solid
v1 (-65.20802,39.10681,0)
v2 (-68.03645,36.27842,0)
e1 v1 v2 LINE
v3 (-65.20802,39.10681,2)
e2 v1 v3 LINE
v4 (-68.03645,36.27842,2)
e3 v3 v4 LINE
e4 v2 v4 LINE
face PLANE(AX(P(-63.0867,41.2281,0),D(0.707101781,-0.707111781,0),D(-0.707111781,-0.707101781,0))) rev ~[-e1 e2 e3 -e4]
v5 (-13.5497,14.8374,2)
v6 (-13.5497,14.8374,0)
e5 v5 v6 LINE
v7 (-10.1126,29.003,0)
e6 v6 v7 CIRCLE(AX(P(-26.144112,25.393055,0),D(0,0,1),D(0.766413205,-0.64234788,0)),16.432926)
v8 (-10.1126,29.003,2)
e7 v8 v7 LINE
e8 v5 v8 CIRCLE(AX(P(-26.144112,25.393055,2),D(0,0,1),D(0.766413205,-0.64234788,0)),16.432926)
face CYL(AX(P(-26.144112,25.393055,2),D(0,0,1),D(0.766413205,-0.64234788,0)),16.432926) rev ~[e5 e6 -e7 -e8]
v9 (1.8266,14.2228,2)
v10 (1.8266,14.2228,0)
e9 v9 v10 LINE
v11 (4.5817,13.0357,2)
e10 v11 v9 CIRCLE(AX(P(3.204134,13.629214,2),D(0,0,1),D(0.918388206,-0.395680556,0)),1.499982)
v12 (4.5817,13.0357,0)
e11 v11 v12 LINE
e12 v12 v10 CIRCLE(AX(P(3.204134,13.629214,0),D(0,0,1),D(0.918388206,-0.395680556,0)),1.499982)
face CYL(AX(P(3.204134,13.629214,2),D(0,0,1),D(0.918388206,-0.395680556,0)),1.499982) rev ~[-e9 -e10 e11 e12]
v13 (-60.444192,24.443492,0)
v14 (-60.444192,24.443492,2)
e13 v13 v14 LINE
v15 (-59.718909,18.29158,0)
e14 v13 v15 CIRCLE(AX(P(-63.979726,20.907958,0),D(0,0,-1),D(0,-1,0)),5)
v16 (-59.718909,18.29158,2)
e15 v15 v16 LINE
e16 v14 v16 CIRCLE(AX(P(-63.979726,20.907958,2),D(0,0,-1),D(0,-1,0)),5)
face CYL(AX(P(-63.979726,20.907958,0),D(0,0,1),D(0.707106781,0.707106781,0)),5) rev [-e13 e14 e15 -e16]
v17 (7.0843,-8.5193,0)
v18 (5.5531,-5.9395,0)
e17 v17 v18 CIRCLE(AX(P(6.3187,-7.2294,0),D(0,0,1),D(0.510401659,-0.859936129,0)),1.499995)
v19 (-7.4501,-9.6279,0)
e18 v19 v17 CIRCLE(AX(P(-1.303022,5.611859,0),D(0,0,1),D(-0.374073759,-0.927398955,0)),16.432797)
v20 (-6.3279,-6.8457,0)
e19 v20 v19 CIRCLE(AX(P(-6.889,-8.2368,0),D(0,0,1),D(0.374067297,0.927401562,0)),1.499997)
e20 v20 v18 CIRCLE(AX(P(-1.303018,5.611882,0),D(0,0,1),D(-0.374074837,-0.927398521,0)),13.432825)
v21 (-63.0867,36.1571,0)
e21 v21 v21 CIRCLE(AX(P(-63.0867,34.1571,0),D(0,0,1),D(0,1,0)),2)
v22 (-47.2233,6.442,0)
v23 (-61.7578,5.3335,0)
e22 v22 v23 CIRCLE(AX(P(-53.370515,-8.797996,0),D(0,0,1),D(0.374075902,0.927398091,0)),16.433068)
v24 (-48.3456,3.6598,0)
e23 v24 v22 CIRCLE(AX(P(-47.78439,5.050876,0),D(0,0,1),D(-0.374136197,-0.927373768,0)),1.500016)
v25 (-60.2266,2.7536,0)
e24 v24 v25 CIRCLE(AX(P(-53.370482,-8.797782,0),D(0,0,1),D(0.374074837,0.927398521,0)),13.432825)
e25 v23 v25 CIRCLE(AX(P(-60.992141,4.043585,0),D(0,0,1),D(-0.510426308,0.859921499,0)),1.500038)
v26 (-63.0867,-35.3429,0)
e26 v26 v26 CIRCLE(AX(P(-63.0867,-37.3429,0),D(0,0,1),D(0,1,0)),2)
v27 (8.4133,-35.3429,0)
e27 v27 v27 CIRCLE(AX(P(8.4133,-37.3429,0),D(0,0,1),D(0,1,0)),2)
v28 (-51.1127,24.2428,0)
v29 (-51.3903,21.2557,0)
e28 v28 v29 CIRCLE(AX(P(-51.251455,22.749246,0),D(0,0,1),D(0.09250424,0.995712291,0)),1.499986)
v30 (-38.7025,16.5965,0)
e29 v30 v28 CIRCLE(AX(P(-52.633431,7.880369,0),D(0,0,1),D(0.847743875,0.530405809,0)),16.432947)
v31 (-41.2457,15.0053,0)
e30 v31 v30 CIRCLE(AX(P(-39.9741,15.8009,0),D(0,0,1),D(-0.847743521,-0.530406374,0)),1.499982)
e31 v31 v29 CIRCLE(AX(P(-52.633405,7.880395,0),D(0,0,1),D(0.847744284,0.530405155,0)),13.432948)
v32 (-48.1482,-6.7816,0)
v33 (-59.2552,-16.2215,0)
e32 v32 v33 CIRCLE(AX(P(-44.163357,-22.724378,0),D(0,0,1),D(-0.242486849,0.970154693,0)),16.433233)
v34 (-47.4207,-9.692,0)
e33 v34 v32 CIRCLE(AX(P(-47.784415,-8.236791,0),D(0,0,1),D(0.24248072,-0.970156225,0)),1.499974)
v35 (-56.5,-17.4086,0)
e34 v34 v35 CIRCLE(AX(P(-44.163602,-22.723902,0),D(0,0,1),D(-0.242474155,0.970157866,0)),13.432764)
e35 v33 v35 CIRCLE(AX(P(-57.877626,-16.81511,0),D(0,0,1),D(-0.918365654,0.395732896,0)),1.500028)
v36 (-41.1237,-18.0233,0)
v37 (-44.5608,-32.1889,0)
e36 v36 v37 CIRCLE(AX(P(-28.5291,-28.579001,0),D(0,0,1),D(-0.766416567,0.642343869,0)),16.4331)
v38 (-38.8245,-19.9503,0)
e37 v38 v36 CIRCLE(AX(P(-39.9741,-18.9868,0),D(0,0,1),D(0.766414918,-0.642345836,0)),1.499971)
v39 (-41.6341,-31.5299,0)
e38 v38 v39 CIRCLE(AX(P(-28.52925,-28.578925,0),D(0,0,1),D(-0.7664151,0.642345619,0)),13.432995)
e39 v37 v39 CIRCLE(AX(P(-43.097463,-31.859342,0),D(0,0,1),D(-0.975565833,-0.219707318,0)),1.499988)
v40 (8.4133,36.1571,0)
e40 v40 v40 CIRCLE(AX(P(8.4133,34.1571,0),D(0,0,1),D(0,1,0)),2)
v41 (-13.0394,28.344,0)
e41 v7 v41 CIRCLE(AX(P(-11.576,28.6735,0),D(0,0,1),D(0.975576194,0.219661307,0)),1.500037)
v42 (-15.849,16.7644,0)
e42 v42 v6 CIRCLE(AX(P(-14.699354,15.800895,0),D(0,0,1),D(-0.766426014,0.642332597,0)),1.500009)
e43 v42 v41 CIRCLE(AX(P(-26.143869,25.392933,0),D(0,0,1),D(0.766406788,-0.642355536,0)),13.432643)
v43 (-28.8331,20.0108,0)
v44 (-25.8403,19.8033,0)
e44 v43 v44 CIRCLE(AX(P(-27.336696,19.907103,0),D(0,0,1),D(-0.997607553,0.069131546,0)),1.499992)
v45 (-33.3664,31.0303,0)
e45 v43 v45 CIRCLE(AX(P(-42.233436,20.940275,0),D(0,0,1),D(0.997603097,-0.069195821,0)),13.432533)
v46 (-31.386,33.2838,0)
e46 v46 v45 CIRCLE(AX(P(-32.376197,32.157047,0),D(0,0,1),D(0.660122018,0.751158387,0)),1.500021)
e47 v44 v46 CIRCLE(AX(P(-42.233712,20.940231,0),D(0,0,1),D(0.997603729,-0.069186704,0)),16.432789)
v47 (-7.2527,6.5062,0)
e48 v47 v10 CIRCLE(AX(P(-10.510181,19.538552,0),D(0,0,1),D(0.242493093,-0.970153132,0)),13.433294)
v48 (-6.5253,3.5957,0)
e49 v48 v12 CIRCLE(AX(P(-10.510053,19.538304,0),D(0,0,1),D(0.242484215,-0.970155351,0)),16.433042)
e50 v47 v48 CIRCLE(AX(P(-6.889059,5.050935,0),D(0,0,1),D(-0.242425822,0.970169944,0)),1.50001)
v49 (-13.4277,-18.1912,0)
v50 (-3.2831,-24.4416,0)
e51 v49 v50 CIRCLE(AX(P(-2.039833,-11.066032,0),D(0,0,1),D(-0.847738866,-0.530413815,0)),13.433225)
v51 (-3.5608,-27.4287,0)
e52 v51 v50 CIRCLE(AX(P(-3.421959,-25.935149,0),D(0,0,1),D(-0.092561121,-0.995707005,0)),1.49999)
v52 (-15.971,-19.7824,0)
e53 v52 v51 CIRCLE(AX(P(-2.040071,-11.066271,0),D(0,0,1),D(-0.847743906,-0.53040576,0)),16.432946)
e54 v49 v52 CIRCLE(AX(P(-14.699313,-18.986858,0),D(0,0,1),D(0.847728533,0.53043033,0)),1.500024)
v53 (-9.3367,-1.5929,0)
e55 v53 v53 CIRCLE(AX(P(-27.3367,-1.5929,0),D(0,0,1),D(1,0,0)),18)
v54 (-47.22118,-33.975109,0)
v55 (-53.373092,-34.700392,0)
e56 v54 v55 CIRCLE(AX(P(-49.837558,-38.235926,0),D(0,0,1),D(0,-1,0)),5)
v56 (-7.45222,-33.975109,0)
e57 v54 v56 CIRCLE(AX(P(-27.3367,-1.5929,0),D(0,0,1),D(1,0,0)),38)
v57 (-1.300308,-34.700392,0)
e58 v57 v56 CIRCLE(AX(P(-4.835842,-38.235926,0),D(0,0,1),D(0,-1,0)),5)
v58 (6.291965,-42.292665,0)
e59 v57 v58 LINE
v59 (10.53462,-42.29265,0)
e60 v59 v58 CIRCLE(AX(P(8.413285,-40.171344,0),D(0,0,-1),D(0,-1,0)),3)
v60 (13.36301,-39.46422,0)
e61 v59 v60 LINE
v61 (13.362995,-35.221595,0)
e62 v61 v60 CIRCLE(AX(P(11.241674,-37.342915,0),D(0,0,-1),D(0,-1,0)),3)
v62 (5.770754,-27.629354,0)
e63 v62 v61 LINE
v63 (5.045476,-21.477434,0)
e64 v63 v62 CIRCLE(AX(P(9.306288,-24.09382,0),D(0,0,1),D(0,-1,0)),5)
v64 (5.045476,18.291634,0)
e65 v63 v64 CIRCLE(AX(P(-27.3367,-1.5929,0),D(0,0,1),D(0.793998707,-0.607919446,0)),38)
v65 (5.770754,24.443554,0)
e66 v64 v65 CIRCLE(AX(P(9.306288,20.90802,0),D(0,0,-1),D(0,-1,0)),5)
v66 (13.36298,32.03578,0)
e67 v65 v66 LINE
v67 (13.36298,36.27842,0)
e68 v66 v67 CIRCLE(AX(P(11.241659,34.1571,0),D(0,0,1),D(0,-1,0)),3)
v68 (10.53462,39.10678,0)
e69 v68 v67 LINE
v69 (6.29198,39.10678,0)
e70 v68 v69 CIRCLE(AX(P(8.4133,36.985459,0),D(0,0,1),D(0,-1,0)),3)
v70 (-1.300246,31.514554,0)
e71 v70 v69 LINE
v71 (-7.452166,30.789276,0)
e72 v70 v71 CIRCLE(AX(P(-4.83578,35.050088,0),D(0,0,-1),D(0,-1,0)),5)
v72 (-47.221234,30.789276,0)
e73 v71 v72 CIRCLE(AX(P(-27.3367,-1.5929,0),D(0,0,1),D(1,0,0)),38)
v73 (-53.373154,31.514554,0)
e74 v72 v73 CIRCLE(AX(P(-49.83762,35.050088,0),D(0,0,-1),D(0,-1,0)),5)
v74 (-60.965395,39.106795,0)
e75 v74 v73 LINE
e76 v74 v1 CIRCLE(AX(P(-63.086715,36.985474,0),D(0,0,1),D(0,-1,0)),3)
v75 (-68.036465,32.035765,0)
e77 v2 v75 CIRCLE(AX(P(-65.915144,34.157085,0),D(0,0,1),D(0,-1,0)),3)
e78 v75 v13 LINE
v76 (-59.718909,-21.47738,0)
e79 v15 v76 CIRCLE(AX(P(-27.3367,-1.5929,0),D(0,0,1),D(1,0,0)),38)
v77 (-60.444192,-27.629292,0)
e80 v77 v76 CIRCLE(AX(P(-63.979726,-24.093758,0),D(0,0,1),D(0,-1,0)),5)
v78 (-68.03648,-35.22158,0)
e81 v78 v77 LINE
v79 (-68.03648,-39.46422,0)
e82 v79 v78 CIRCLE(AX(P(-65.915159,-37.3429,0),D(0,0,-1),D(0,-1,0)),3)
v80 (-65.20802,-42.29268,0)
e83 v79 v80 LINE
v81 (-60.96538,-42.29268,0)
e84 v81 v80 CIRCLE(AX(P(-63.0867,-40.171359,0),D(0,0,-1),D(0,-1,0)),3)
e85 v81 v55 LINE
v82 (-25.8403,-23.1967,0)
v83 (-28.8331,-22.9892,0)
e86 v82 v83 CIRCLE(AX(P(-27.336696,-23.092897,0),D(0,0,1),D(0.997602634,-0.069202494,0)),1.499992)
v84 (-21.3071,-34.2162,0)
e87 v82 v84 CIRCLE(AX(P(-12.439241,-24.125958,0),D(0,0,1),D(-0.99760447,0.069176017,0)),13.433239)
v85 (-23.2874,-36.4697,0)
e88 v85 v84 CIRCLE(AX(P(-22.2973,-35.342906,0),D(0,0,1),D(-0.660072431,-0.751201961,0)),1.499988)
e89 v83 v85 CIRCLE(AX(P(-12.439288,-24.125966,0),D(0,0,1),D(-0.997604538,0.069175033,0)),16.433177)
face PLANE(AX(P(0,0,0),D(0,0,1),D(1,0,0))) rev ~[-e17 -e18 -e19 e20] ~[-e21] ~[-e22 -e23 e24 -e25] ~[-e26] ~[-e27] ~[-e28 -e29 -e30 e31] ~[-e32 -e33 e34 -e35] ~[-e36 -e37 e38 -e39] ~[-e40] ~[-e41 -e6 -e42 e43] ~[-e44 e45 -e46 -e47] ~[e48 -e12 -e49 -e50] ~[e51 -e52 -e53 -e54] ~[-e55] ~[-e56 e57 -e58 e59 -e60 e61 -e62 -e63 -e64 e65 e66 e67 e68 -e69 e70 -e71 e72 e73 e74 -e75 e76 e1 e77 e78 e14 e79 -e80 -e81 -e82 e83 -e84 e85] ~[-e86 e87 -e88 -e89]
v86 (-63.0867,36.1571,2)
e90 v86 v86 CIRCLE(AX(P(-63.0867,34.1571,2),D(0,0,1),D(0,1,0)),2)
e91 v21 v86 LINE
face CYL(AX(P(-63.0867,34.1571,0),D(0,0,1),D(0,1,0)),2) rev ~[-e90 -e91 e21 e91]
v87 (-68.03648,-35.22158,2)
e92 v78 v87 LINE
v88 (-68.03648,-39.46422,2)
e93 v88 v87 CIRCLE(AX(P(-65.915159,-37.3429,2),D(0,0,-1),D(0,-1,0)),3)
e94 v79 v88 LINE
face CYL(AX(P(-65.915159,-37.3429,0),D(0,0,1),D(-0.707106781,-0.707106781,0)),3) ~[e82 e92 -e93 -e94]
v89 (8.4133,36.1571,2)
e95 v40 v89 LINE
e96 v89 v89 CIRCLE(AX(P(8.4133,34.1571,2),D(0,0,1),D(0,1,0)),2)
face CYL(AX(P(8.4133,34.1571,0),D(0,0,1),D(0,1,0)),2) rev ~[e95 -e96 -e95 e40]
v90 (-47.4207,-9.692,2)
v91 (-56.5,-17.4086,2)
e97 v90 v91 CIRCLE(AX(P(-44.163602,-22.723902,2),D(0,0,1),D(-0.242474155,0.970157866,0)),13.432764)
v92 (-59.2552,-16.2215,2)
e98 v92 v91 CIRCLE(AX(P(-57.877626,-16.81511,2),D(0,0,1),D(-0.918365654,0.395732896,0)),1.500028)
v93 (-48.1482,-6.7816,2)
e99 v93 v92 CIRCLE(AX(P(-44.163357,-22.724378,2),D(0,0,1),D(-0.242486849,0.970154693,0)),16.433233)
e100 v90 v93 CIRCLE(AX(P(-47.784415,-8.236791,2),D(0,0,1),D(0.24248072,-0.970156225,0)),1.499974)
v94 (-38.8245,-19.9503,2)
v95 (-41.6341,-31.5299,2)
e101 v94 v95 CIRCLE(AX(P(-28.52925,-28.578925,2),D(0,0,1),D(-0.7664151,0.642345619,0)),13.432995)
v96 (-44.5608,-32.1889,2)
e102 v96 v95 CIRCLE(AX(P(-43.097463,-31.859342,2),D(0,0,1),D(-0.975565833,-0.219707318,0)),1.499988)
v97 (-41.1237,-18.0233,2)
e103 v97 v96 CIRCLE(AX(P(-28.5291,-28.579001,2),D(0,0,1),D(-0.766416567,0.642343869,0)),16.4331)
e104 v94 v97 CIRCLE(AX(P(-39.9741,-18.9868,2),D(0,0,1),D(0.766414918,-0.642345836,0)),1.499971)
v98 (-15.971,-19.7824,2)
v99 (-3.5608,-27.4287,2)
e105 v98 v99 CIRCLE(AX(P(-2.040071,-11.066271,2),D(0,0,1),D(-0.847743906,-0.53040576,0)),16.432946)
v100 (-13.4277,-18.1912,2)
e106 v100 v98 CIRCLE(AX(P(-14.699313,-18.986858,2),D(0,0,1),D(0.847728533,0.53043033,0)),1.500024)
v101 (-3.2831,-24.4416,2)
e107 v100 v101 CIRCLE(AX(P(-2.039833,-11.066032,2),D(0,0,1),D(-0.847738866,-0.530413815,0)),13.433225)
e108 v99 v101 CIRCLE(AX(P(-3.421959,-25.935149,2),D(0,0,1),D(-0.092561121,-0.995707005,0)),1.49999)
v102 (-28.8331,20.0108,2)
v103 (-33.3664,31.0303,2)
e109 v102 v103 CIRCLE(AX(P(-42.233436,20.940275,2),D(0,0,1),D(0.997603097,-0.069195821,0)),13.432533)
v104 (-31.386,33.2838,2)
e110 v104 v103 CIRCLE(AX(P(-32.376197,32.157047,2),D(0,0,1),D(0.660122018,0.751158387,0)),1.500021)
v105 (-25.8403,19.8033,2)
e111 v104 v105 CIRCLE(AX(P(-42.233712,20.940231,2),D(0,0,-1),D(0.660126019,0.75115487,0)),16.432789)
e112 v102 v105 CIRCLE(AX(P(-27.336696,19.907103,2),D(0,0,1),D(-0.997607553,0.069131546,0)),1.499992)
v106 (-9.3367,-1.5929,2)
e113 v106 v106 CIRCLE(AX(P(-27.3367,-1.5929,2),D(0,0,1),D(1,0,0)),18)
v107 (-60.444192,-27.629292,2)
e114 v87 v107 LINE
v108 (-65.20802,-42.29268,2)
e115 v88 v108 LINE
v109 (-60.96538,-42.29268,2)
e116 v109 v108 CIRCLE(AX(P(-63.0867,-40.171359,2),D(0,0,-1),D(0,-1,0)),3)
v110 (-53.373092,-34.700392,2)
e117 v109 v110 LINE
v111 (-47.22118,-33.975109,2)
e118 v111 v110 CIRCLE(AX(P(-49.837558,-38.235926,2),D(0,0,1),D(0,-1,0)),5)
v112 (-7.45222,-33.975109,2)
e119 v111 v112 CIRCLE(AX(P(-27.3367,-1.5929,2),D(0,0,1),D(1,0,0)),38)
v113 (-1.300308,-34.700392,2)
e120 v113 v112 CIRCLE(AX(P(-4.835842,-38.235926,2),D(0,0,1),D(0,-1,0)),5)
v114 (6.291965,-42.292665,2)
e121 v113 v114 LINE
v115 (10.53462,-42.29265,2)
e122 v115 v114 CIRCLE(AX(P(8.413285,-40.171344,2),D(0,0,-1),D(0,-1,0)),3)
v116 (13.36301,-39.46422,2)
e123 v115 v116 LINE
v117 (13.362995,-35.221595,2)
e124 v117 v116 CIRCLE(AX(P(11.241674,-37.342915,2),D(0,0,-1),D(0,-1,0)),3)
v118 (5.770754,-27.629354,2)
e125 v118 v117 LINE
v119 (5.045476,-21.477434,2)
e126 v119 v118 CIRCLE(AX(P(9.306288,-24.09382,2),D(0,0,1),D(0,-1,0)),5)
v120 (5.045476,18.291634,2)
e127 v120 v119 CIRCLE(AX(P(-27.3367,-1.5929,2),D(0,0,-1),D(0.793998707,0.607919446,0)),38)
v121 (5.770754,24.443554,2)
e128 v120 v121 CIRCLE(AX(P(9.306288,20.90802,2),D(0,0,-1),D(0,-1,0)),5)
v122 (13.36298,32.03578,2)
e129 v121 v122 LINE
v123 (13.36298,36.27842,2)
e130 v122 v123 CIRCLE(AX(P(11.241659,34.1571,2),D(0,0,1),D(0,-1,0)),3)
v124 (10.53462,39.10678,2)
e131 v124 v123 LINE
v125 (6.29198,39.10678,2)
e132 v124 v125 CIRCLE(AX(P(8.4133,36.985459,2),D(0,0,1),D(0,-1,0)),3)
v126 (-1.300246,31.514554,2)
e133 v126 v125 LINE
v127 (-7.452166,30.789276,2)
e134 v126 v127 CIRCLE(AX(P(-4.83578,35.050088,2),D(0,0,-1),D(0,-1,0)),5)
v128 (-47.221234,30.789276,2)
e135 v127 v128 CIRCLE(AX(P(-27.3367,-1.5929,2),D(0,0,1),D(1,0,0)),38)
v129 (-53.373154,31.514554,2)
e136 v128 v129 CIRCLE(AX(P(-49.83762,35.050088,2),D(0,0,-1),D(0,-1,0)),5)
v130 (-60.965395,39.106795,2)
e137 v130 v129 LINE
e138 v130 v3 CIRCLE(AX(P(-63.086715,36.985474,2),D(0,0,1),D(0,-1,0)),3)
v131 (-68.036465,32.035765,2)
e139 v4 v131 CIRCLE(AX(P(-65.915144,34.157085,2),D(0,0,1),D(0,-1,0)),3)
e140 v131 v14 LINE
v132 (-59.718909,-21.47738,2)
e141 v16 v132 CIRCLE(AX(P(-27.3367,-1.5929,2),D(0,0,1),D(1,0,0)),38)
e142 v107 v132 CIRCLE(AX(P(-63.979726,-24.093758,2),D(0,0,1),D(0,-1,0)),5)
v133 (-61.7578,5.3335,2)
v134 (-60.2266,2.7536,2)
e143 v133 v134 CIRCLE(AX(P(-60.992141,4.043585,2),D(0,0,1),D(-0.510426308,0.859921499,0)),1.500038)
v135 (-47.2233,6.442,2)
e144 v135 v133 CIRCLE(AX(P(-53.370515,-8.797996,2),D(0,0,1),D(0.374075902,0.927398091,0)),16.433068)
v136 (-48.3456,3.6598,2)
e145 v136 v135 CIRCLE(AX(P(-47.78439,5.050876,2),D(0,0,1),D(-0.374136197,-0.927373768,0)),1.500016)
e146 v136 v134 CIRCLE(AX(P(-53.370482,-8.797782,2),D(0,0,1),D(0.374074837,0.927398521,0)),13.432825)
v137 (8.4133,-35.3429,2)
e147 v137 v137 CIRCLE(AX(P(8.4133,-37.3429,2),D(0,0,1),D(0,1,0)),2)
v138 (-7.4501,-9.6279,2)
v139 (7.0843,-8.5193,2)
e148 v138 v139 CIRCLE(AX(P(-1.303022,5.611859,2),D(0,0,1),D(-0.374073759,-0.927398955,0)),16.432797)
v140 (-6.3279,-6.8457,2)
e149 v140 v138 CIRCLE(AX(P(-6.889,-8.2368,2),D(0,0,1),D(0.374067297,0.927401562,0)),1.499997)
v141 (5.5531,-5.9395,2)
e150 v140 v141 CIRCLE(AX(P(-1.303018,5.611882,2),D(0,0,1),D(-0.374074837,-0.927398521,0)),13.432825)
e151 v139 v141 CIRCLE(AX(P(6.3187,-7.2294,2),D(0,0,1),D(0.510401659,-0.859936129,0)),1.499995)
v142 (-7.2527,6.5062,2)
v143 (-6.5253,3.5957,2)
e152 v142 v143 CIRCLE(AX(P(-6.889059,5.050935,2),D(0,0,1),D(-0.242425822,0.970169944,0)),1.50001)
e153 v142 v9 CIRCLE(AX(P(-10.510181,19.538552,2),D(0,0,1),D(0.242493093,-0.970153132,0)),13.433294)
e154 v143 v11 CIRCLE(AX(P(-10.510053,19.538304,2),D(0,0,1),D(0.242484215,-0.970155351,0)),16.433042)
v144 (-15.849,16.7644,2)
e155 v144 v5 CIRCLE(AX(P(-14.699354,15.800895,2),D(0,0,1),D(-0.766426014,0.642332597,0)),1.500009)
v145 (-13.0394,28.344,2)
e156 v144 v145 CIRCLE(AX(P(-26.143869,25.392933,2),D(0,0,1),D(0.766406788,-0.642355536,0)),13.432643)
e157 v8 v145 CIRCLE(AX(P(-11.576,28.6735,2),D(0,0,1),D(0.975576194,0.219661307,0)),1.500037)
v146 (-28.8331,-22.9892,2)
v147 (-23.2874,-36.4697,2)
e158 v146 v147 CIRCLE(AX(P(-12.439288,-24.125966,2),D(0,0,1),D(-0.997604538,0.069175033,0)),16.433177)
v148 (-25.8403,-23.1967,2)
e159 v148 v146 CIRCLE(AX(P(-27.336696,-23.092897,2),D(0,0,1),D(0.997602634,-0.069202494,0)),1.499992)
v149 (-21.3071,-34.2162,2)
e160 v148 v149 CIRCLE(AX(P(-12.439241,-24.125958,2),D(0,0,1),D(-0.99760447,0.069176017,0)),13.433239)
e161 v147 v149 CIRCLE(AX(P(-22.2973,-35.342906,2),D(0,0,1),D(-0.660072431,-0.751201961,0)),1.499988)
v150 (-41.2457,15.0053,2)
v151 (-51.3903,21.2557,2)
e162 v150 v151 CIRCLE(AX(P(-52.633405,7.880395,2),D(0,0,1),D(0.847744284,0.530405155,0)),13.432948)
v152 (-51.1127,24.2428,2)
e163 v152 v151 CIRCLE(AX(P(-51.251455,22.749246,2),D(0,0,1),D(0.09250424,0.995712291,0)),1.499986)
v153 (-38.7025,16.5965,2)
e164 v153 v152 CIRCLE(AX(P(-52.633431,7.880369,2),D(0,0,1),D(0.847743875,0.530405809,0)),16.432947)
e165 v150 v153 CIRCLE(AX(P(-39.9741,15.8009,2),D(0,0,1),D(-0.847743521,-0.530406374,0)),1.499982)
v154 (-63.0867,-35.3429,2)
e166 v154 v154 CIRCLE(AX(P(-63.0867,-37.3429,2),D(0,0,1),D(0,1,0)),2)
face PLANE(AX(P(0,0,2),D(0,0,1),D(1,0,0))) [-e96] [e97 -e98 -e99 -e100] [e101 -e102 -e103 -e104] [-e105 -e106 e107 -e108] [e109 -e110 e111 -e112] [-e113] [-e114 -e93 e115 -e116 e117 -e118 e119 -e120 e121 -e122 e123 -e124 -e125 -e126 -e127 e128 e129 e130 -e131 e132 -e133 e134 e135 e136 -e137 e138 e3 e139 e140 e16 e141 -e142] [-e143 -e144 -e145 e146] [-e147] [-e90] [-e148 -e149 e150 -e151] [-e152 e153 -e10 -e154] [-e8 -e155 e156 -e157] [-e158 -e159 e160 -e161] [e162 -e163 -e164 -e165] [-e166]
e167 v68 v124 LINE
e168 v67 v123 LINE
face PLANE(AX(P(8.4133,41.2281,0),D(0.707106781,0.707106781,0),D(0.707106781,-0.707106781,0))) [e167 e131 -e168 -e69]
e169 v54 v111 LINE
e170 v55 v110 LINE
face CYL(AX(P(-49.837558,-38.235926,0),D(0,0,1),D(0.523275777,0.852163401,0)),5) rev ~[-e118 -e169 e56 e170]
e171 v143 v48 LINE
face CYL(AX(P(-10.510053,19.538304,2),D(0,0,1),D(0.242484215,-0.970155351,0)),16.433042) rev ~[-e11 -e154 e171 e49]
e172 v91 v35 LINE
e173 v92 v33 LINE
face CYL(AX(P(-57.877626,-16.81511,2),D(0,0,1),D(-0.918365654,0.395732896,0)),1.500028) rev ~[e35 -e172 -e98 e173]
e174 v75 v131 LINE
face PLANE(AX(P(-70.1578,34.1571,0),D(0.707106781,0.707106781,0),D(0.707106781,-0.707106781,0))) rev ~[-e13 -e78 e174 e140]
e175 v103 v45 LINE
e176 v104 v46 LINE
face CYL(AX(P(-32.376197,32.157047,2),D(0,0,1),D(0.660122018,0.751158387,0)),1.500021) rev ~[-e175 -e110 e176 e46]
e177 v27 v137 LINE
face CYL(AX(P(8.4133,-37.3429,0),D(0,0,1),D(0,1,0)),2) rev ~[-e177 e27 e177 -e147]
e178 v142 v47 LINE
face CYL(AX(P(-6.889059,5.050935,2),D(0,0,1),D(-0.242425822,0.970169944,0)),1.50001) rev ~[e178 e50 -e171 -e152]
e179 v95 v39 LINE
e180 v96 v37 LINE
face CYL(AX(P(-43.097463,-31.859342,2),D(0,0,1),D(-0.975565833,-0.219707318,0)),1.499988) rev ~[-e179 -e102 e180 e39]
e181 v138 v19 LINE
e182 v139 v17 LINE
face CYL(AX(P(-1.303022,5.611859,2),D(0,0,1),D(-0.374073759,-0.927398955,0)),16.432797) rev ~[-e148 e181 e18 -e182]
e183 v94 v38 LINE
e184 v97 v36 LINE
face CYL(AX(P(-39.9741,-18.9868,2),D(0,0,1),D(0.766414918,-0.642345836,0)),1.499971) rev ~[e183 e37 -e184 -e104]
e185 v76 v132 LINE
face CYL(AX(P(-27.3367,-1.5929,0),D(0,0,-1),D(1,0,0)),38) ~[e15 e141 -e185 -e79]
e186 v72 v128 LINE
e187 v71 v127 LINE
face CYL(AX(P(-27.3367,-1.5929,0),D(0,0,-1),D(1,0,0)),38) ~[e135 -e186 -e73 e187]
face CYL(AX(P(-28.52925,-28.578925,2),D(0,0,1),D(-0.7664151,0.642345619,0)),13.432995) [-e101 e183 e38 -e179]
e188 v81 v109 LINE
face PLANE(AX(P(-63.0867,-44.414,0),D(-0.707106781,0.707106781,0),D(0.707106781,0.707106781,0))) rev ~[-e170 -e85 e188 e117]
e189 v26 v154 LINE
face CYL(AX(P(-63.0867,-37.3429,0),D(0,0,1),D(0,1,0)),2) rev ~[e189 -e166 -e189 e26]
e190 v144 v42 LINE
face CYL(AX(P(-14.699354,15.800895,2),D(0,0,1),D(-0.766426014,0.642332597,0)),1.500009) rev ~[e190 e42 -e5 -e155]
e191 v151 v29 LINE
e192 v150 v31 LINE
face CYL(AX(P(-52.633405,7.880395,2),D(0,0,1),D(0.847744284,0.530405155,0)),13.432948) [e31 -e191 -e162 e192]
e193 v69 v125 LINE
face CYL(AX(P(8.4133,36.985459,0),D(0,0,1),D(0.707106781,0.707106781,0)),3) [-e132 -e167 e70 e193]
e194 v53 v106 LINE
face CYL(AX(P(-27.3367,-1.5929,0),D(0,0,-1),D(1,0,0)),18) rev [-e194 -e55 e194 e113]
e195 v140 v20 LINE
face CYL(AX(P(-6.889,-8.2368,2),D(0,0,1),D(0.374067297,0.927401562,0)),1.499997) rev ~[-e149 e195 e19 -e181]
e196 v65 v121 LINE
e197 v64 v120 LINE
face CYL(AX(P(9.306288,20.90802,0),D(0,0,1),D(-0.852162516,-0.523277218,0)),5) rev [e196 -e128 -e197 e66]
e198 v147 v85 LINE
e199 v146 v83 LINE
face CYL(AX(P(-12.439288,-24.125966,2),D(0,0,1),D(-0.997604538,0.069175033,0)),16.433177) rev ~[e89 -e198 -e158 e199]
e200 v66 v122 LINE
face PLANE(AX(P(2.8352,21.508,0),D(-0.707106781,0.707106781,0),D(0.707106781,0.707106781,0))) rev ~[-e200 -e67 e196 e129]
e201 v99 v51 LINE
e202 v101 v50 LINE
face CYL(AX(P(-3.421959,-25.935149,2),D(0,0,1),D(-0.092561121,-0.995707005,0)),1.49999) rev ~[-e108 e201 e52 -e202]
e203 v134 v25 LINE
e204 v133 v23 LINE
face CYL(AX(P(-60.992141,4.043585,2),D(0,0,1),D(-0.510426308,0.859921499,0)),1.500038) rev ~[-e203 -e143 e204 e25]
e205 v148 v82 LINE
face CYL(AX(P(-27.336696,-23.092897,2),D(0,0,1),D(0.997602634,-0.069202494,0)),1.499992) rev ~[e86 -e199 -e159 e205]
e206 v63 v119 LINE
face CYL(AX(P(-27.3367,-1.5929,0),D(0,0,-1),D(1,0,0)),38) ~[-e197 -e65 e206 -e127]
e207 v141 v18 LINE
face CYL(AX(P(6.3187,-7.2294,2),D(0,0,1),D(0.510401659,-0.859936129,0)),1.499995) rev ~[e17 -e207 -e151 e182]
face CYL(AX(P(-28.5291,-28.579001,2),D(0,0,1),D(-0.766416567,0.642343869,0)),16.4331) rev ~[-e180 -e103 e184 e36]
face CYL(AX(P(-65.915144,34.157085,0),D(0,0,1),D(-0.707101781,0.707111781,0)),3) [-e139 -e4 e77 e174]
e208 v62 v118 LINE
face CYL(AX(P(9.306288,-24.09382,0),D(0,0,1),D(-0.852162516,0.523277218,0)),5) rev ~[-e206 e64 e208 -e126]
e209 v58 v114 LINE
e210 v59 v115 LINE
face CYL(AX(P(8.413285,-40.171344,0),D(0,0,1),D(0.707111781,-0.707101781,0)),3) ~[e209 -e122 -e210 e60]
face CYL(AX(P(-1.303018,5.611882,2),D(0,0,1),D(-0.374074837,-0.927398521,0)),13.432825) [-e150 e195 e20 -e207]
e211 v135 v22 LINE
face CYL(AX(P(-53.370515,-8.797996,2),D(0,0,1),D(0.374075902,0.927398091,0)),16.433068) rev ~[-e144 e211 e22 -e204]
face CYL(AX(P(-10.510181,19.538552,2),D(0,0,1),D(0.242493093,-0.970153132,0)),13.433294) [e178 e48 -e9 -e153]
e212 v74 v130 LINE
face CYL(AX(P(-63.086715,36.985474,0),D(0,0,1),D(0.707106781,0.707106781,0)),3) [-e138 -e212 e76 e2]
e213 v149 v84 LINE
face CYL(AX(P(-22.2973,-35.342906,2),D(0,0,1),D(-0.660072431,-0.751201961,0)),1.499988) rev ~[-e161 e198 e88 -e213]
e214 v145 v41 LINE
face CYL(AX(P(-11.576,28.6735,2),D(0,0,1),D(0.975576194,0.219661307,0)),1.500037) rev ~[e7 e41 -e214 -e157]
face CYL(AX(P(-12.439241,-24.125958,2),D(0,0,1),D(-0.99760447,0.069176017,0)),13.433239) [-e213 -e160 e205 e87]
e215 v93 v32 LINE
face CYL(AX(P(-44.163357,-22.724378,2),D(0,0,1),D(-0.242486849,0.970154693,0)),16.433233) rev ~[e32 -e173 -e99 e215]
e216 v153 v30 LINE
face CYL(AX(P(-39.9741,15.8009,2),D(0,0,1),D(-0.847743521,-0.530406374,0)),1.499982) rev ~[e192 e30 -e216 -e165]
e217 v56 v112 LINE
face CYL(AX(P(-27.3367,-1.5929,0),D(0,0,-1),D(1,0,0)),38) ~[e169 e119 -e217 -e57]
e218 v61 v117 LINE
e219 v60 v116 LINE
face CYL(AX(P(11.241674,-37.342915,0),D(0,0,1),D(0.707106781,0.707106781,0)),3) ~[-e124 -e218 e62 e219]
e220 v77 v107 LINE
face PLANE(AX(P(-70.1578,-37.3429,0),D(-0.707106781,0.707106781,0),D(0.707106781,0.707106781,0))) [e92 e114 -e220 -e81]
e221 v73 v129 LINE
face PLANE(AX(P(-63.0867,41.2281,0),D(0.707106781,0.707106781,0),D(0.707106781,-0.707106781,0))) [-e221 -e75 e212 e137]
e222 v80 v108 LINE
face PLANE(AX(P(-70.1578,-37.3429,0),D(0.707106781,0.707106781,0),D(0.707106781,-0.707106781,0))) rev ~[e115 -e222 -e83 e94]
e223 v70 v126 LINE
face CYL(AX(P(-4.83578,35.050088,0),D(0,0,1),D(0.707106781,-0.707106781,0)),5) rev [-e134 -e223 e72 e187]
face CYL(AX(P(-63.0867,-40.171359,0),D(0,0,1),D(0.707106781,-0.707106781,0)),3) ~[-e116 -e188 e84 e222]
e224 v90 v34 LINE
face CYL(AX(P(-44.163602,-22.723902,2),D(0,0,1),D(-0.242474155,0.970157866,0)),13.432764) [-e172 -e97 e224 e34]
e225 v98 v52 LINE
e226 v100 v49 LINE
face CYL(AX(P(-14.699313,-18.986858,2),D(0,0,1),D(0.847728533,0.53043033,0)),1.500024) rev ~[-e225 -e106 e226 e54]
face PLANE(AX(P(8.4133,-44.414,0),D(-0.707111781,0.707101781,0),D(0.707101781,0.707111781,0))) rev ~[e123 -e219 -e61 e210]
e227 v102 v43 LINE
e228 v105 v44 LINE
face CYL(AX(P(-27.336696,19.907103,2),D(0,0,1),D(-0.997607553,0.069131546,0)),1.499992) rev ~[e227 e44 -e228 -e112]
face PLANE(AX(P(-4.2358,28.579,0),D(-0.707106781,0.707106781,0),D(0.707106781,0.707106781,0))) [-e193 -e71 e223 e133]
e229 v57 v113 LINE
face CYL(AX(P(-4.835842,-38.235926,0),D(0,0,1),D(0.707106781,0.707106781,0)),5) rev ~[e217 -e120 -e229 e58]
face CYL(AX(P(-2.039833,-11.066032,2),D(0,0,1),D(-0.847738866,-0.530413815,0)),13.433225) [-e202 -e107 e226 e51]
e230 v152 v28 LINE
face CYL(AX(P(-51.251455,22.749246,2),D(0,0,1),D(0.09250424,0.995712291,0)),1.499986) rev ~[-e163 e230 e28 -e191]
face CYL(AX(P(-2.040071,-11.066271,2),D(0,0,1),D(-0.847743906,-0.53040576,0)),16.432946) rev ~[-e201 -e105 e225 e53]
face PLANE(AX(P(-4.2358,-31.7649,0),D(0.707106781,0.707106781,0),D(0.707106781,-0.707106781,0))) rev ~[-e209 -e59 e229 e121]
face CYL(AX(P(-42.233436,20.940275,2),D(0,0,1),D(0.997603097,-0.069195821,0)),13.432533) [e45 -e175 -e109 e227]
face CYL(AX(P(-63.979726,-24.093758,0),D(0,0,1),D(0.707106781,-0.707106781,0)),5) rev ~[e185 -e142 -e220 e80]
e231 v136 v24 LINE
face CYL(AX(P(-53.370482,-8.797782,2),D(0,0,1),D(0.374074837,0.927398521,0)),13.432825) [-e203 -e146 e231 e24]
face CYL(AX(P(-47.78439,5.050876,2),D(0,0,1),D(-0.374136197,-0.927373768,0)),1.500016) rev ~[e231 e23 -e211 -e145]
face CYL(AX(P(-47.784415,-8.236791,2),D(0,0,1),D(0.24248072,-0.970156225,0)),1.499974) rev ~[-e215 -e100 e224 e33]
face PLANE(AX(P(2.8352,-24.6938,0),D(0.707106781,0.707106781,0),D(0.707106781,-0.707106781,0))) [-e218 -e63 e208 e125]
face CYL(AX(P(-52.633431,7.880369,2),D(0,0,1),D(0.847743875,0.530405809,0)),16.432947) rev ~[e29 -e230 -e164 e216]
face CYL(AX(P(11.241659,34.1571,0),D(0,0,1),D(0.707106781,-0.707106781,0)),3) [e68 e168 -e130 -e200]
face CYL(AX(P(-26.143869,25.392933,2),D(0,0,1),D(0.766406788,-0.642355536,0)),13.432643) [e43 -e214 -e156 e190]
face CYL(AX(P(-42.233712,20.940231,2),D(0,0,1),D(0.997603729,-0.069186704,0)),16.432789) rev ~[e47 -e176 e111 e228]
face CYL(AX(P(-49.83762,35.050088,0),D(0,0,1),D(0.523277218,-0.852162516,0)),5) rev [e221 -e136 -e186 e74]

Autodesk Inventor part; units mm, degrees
ref_plane "YZ Plane" through (0, 0, 0) normal (1, 0, 0) x (0, 1, 0)
ref_plane "XZ Plane" through (0, 0, 0) normal (0, 1, 0) x (-1, 0, 0)
ref_plane "XY Plane" through (0, 0, 0) normal (0, 0, 1) x (1, 0, 0)
sketch "Szkic1" plane through (0, 0, 0) normal (0, 0, 1) x (1, 0, 0)
  circle A0 centre (-27.3367, -1.5929) radius 18
  circle A1 centre (-27.3367, -1.5929) radius 38
  line L0 (-63.0867, 41.2281) -> (-70.1578, 34.1571)
  line L1 (8.4133, 41.2281) -> (15.4843, 34.1571)
  line L2 (-70.1578, -37.3429) -> (-63.0867, -44.414)
  line L3 (8.4133, -44.414) -> (15.4843, -37.3429)
  line L4 (-70.1578, 34.1571) -> (-57.5087, 21.508)
  line L5 (-70.1578, -37.3429) -> (-57.5087, -24.6938)
  line L6 (-63.0867, 41.2281) -> (-50.4376, 28.579)
  line L7 (-4.2358, 28.579) -> (8.4133, 41.2281)
  line L8 (2.8352, 21.508) -> (15.4843, 34.1571)
  line L9 (2.8352, -24.6938) -> (15.4843, -37.3429)
  line L10 (-4.2358, -31.7649) -> (8.4133, -44.414)
  line L11 (-63.0867, -44.414) -> (-50.4376, -31.7649)
  point P0 (0, 0)
  point P1 (-63.0867, 34.1571)
  point P2 (8.4133, 34.1571)
  point P3 (-63.0867, -37.3429)
  point P4 (8.4133, -37.3429)
  dimension "d5" = 76
  dimension "d0" = 71.5
  dimension "d1" = 71.5
  dimension "d2" = 35.75
  dimension "d3" = 35.75
  dimension "d4" = 36
  dimension "d14" = 5
  dimension "d15" = 5
  dimension "d16" = 5
  dimension "d17" = 5
extrude "Wyciągnięcie proste1" add sketch "Szkic1" along normal blind 2
hole "Otwór1" at (-63.0867, 34.1571, 0) at (8.4133, 34.1571, 0) at (-63.0867, -37.3429, 0) at (8.4133, -37.3429, 0) at (-27.3367, -1.5929, 0) direction (0, 0, 1) diameter 4 end through all
fillet "Zaokrąglenie1" radius 3 8 edges at (-63.0867, 41.2281, 1) (15.4843, 34.1571, 1) (8.4133, 41.2281, 1) (-70.1578, 34.1571, 1) (-63.0867, -44.414, 1) (-70.1578, -37.3429, 1) (15.4843, -37.3429, 1) (8.4133, -44.414, 1)
fillet "Zaokrąglenie1" radius 5 8 edges at (-57.5087, 21.508, 1) (-50.4376, 28.579, 1) (-57.5087, -24.6938, 1) (-50.4376, -31.7649, 1) (-4.2358, -31.7649, 1) (2.8352, -24.6938, 1) (-4.2358, 28.579, 1) (2.8352, 21.508, 1)
sketch "Szkic2" plane through (0, 0, 2) normal (0, 0, 1) x (1, 0, 0)
  circle A0 centre (8.4133, -37.3429) radius 2 projected
  circle A1 centre (8.4133, 34.1571) radius 2 projected
  circle A2 centre (-63.0867, 34.1571) radius 2 projected
  circle A3 centre (-63.0867, -37.3429) radius 2 projected
  circle A4 centre (-27.3367, -1.5929) radius 18 projected
  arc A5 (6.2919, -42.2927) -> (10.5346, -42.2927) centre (8.4133, -40.1714) ccw projected
  line L0 (10.5346, -42.2927) -> (13.363, -39.4643) projected
  arc A6 (13.363, -39.4643) -> (13.363, -35.2216) centre (11.2417, -37.3429) ccw projected
  line L1 (13.363, -35.2216) -> (5.7707, -27.6293) projected
  arc A7 (5.0455, -21.4774) -> (5.7707, -27.6293) centre (9.3063, -24.0938) ccw projected
  arc A8 (5.0455, -21.4774) -> (5.0455, 18.2916) centre (-27.3367, -1.5929) ccw projected
  arc A9 (5.7707, 24.4435) -> (5.0455, 18.2916) centre (9.3063, 20.9079) ccw projected
  line L2 (5.7707, 24.4435) -> (13.363, 32.0357) projected
  arc A10 (13.363, 32.0357) -> (13.363, 36.2784) centre (11.2417, 34.1571) ccw projected
  line L3 (13.363, 36.2784) -> (10.5346, 39.1068) projected
  arc A11 (10.5346, 39.1068) -> (6.2919, 39.1068) centre (8.4133, 36.9855) ccw projected
  line L4 (6.2919, 39.1068) -> (-1.3003, 31.5145) projected
  arc A12 (-7.4522, 30.7893) -> (-1.3003, 31.5145) centre (-4.8359, 35.0501) ccw projected
  arc A13 (-7.4522, 30.7893) -> (-47.2212, 30.7893) centre (-27.3367, -1.5929) ccw projected
  arc A14 (-53.3731, 31.5145) -> (-47.2212, 30.7893) centre (-49.8376, 35.0501) ccw projected
  line L5 (-53.3731, 31.5145) -> (-60.9654, 39.1068) projected
  arc A15 (-60.9654, 39.1068) -> (-65.2081, 39.1068) centre (-63.0867, 36.9855) ccw projected
  line L6 (-65.2081, 39.1068) -> (-68.0365, 36.2784) projected
  arc A16 (-68.0365, 36.2784) -> (-68.0365, 32.0357) centre (-65.9152, 34.1571) ccw projected
  line L7 (-68.0365, 32.0357) -> (-60.4442, 24.4435) projected
  arc A17 (-59.7189, 18.2916) -> (-60.4442, 24.4435) centre (-63.9797, 20.9079) ccw projected
  arc A18 (-59.7189, 18.2916) -> (-59.7189, -21.4774) centre (-27.3367, -1.5929) ccw projected
  arc A19 (-60.4442, -27.6293) -> (-59.7189, -21.4774) centre (-63.9797, -24.0938) ccw projected
  line L8 (-60.4442, -27.6293) -> (-68.0365, -35.2216) projected
  arc A20 (-68.0365, -35.2216) -> (-68.0365, -39.4643) centre (-65.9152, -37.3429) ccw projected
  line L9 (-68.0365, -39.4643) -> (-65.2081, -42.2927) projected
  arc A21 (-65.2081, -42.2927) -> (-60.9654, -42.2927) centre (-63.0867, -40.1714) ccw projected
  line L10 (-60.9654, -42.2927) -> (-53.3731, -34.7004) projected
  arc A22 (-47.2212, -33.9751) -> (-53.3731, -34.7004) centre (-49.8376, -38.2359) ccw projected
  arc A23 (-47.2212, -33.9751) -> (-7.4522, -33.9751) centre (-27.3367, -1.5929) ccw projected
  arc A24 (-1.3003, -34.7004) -> (-7.4522, -33.9751) centre (-4.8359, -38.2359) ccw projected
  line L11 (-1.3003, -34.7004) -> (6.2919, -42.2927) projected
  line L12 (-27.3367, 32.9071) -> (-27.3367, 19.9071)
  arc A25 (-27.3367, 19.9071) -> (-32.3762, 32.1571) centre (-42.2339, 20.9402) ccw construction
  arc A26 (-25.8403, 19.8033) -> (-31.386, 33.2838) centre (-42.2339, 20.9402) ccw
  arc A27 (-28.8331, 20.0108) -> (-33.3664, 31.0303) centre (-42.2339, 20.9402) ccw
  arc A28 (-28.8331, 20.0108) -> (-25.8403, 19.8033) centre (-27.3367, 19.9071) ccw
  arc A29 (-31.386, 33.2838) -> (-33.3664, 31.0303) centre (-32.3762, 32.1571) ccw
  arc A30 (-41.2457, 15.0053) -> (-38.7025, 16.5965) centre (-39.9741, 15.8009) ccw
  arc A31 (-38.7025, 16.5965) -> (-51.1127, 24.2428) centre (-52.6334, 7.8804) ccw
  arc A32 (-39.9741, 15.8009) -> (-51.2515, 22.7493) centre (-52.6334, 7.8804) ccw construction
  arc A33 (-41.2457, 15.0053) -> (-51.3903, 21.2557) centre (-52.6334, 7.8804) ccw
  arc A34 (-51.1127, 24.2428) -> (-51.3903, 21.2557) centre (-51.2515, 22.7493) ccw
  arc A35 (-48.3456, 3.6598) -> (-47.2233, 6.442) centre (-47.7844, 5.0509) ccw
  arc A36 (-47.2233, 6.442) -> (-61.7578, 5.3335) centre (-53.3705, -8.7979) ccw
  arc A37 (-47.7844, 5.0509) -> (-60.9922, 4.0436) centre (-53.3705, -8.7979) ccw construction
  arc A38 (-48.3456, 3.6598) -> (-60.2266, 2.7536) centre (-53.3705, -8.7979) ccw
  arc A39 (-61.7578, 5.3335) -> (-60.2266, 2.7536) centre (-60.9922, 4.0436) ccw
  arc A40 (-47.4207, -9.692) -> (-48.1482, -6.7816) centre (-47.7844, -8.2368) ccw
  arc A41 (-48.1482, -6.7816) -> (-59.2552, -16.2215) centre (-44.1635, -22.7241) ccw
  arc A42 (-47.7844, -8.2368) -> (-57.8776, -16.8151) centre (-44.1635, -22.7241) ccw construction
  arc A43 (-47.4207, -9.692) -> (-56.5, -17.4086) centre (-44.1635, -22.7241) ccw
  arc A44 (-59.2552, -16.2215) -> (-56.5, -17.4086) centre (-57.8776, -16.8151) ccw
  arc A45 (-38.8245, -19.9503) -> (-41.1237, -18.0233) centre (-39.9741, -18.9868) ccw
  arc A46 (-41.1237, -18.0233) -> (-44.5608, -32.1889) centre (-28.5293, -28.5789) ccw
  arc A47 (-39.9741, -18.9868) -> (-43.0975, -31.8594) centre (-28.5293, -28.5789) ccw construction
  arc A48 (-38.8245, -19.9503) -> (-41.6341, -31.5299) centre (-28.5293, -28.5789) ccw
  arc A49 (-44.5608, -32.1889) -> (-41.6341, -31.5299) centre (-43.0975, -31.8594) ccw
  arc A50 (-25.8403, -23.1967) -> (-28.8331, -22.9892) centre (-27.3367, -23.0929) ccw
  arc A51 (-28.8331, -22.9892) -> (-23.2874, -36.4697) centre (-12.4395, -24.126) ccw
  arc A52 (-27.3367, -23.0929) -> (-22.2973, -35.3429) centre (-12.4395, -24.126) ccw construction
  arc A53 (-25.8403, -23.1967) -> (-21.3071, -34.2162) centre (-12.4395, -24.126) ccw
  arc A54 (-23.2874, -36.4697) -> (-21.3071, -34.2162) centre (-22.2973, -35.3429) ccw
  arc A55 (-13.4277, -18.1912) -> (-15.971, -19.7824) centre (-14.6993, -18.9868) ccw
  arc A56 (-15.971, -19.7824) -> (-3.5608, -27.4287) centre (-2.04, -11.0662) ccw
  arc A57 (-14.6993, -18.9868) -> (-3.422, -25.9351) centre (-2.04, -11.0662) ccw construction
  arc A58 (-13.4277, -18.1912) -> (-3.2831, -24.4416) centre (-2.04, -11.0662) ccw
  arc A59 (-3.5608, -27.4287) -> (-3.2831, -24.4416) centre (-3.422, -25.9351) ccw
  arc A60 (-6.3279, -6.8457) -> (-7.4501, -9.6279) centre (-6.889, -8.2368) ccw
  arc A61 (-7.4501, -9.6279) -> (7.0843, -8.5193) centre (-1.303, 5.612) ccw
  arc A62 (-6.889, -8.2368) -> (6.3187, -7.2294) centre (-1.303, 5.612) ccw construction
  arc A63 (-6.3279, -6.8457) -> (5.5531, -5.9395) centre (-1.303, 5.612) ccw
  arc A64 (7.0843, -8.5193) -> (5.5531, -5.9395) centre (6.3187, -7.2294) ccw
  arc A65 (-7.2527, 6.5062) -> (-6.5253, 3.5957) centre (-6.889, 5.0509) ccw
  arc A66 (-6.5253, 3.5957) -> (4.5817, 13.0357) centre (-10.51, 19.5382) ccw
  arc A67 (-6.889, 5.0509) -> (3.2041, 13.6292) centre (-10.51, 19.5382) ccw construction
  arc A68 (-7.2527, 6.5062) -> (1.8266, 14.2228) centre (-10.51, 19.5382) ccw
  arc A69 (4.5817, 13.0357) -> (1.8266, 14.2228) centre (3.2041, 13.6292) ccw
  arc A70 (-15.849, 16.7644) -> (-13.5497, 14.8374) centre (-14.6993, 15.8009) ccw
  arc A71 (-13.5497, 14.8374) -> (-10.1126, 29.003) centre (-26.1442, 25.3931) ccw
  arc A72 (-14.6993, 15.8009) -> (-11.576, 28.6735) centre (-26.1442, 25.3931) ccw construction
  arc A73 (-15.849, 16.7644) -> (-13.0394, 28.344) centre (-26.1442, 25.3931) ccw
  arc A74 (-10.1126, 29.003) -> (-13.0394, 28.344) centre (-11.576, 28.6735) ccw
  point P0 (0, 0)
  dimension "d29" = 13
  dimension "d30" = 21.5
  dimension "d31" = 3
  dimension "d34" = 360
extrude "Wyciągnięcie proste2" cut sketch "Szkic2" against normal through all contours A28 A27 A29 A26 | A33 A34 A31 A30 | A38 A39 A36 A35 | A43 A44 A41 A40 | A48 A49 A46 A45 | A53 A54 A51 A50 | A58 A59 A56 A55 | A63 A64 A61 A60 | A68 A69 A66 A65 | A73 A74 A71 A70
equation "\"d1\" = d0"
equation "\"d2\" = 0.5 * d0"
equation "\"d3\" = 0.5 * d1"
equation "\"d11\" = d10"
equation "\"d12\" = d10"
equation "\"d13\" = d12"
equation "\"d10\" = 5"
properties part number "3DP_ABS_Chamber_Fan_Cover"
